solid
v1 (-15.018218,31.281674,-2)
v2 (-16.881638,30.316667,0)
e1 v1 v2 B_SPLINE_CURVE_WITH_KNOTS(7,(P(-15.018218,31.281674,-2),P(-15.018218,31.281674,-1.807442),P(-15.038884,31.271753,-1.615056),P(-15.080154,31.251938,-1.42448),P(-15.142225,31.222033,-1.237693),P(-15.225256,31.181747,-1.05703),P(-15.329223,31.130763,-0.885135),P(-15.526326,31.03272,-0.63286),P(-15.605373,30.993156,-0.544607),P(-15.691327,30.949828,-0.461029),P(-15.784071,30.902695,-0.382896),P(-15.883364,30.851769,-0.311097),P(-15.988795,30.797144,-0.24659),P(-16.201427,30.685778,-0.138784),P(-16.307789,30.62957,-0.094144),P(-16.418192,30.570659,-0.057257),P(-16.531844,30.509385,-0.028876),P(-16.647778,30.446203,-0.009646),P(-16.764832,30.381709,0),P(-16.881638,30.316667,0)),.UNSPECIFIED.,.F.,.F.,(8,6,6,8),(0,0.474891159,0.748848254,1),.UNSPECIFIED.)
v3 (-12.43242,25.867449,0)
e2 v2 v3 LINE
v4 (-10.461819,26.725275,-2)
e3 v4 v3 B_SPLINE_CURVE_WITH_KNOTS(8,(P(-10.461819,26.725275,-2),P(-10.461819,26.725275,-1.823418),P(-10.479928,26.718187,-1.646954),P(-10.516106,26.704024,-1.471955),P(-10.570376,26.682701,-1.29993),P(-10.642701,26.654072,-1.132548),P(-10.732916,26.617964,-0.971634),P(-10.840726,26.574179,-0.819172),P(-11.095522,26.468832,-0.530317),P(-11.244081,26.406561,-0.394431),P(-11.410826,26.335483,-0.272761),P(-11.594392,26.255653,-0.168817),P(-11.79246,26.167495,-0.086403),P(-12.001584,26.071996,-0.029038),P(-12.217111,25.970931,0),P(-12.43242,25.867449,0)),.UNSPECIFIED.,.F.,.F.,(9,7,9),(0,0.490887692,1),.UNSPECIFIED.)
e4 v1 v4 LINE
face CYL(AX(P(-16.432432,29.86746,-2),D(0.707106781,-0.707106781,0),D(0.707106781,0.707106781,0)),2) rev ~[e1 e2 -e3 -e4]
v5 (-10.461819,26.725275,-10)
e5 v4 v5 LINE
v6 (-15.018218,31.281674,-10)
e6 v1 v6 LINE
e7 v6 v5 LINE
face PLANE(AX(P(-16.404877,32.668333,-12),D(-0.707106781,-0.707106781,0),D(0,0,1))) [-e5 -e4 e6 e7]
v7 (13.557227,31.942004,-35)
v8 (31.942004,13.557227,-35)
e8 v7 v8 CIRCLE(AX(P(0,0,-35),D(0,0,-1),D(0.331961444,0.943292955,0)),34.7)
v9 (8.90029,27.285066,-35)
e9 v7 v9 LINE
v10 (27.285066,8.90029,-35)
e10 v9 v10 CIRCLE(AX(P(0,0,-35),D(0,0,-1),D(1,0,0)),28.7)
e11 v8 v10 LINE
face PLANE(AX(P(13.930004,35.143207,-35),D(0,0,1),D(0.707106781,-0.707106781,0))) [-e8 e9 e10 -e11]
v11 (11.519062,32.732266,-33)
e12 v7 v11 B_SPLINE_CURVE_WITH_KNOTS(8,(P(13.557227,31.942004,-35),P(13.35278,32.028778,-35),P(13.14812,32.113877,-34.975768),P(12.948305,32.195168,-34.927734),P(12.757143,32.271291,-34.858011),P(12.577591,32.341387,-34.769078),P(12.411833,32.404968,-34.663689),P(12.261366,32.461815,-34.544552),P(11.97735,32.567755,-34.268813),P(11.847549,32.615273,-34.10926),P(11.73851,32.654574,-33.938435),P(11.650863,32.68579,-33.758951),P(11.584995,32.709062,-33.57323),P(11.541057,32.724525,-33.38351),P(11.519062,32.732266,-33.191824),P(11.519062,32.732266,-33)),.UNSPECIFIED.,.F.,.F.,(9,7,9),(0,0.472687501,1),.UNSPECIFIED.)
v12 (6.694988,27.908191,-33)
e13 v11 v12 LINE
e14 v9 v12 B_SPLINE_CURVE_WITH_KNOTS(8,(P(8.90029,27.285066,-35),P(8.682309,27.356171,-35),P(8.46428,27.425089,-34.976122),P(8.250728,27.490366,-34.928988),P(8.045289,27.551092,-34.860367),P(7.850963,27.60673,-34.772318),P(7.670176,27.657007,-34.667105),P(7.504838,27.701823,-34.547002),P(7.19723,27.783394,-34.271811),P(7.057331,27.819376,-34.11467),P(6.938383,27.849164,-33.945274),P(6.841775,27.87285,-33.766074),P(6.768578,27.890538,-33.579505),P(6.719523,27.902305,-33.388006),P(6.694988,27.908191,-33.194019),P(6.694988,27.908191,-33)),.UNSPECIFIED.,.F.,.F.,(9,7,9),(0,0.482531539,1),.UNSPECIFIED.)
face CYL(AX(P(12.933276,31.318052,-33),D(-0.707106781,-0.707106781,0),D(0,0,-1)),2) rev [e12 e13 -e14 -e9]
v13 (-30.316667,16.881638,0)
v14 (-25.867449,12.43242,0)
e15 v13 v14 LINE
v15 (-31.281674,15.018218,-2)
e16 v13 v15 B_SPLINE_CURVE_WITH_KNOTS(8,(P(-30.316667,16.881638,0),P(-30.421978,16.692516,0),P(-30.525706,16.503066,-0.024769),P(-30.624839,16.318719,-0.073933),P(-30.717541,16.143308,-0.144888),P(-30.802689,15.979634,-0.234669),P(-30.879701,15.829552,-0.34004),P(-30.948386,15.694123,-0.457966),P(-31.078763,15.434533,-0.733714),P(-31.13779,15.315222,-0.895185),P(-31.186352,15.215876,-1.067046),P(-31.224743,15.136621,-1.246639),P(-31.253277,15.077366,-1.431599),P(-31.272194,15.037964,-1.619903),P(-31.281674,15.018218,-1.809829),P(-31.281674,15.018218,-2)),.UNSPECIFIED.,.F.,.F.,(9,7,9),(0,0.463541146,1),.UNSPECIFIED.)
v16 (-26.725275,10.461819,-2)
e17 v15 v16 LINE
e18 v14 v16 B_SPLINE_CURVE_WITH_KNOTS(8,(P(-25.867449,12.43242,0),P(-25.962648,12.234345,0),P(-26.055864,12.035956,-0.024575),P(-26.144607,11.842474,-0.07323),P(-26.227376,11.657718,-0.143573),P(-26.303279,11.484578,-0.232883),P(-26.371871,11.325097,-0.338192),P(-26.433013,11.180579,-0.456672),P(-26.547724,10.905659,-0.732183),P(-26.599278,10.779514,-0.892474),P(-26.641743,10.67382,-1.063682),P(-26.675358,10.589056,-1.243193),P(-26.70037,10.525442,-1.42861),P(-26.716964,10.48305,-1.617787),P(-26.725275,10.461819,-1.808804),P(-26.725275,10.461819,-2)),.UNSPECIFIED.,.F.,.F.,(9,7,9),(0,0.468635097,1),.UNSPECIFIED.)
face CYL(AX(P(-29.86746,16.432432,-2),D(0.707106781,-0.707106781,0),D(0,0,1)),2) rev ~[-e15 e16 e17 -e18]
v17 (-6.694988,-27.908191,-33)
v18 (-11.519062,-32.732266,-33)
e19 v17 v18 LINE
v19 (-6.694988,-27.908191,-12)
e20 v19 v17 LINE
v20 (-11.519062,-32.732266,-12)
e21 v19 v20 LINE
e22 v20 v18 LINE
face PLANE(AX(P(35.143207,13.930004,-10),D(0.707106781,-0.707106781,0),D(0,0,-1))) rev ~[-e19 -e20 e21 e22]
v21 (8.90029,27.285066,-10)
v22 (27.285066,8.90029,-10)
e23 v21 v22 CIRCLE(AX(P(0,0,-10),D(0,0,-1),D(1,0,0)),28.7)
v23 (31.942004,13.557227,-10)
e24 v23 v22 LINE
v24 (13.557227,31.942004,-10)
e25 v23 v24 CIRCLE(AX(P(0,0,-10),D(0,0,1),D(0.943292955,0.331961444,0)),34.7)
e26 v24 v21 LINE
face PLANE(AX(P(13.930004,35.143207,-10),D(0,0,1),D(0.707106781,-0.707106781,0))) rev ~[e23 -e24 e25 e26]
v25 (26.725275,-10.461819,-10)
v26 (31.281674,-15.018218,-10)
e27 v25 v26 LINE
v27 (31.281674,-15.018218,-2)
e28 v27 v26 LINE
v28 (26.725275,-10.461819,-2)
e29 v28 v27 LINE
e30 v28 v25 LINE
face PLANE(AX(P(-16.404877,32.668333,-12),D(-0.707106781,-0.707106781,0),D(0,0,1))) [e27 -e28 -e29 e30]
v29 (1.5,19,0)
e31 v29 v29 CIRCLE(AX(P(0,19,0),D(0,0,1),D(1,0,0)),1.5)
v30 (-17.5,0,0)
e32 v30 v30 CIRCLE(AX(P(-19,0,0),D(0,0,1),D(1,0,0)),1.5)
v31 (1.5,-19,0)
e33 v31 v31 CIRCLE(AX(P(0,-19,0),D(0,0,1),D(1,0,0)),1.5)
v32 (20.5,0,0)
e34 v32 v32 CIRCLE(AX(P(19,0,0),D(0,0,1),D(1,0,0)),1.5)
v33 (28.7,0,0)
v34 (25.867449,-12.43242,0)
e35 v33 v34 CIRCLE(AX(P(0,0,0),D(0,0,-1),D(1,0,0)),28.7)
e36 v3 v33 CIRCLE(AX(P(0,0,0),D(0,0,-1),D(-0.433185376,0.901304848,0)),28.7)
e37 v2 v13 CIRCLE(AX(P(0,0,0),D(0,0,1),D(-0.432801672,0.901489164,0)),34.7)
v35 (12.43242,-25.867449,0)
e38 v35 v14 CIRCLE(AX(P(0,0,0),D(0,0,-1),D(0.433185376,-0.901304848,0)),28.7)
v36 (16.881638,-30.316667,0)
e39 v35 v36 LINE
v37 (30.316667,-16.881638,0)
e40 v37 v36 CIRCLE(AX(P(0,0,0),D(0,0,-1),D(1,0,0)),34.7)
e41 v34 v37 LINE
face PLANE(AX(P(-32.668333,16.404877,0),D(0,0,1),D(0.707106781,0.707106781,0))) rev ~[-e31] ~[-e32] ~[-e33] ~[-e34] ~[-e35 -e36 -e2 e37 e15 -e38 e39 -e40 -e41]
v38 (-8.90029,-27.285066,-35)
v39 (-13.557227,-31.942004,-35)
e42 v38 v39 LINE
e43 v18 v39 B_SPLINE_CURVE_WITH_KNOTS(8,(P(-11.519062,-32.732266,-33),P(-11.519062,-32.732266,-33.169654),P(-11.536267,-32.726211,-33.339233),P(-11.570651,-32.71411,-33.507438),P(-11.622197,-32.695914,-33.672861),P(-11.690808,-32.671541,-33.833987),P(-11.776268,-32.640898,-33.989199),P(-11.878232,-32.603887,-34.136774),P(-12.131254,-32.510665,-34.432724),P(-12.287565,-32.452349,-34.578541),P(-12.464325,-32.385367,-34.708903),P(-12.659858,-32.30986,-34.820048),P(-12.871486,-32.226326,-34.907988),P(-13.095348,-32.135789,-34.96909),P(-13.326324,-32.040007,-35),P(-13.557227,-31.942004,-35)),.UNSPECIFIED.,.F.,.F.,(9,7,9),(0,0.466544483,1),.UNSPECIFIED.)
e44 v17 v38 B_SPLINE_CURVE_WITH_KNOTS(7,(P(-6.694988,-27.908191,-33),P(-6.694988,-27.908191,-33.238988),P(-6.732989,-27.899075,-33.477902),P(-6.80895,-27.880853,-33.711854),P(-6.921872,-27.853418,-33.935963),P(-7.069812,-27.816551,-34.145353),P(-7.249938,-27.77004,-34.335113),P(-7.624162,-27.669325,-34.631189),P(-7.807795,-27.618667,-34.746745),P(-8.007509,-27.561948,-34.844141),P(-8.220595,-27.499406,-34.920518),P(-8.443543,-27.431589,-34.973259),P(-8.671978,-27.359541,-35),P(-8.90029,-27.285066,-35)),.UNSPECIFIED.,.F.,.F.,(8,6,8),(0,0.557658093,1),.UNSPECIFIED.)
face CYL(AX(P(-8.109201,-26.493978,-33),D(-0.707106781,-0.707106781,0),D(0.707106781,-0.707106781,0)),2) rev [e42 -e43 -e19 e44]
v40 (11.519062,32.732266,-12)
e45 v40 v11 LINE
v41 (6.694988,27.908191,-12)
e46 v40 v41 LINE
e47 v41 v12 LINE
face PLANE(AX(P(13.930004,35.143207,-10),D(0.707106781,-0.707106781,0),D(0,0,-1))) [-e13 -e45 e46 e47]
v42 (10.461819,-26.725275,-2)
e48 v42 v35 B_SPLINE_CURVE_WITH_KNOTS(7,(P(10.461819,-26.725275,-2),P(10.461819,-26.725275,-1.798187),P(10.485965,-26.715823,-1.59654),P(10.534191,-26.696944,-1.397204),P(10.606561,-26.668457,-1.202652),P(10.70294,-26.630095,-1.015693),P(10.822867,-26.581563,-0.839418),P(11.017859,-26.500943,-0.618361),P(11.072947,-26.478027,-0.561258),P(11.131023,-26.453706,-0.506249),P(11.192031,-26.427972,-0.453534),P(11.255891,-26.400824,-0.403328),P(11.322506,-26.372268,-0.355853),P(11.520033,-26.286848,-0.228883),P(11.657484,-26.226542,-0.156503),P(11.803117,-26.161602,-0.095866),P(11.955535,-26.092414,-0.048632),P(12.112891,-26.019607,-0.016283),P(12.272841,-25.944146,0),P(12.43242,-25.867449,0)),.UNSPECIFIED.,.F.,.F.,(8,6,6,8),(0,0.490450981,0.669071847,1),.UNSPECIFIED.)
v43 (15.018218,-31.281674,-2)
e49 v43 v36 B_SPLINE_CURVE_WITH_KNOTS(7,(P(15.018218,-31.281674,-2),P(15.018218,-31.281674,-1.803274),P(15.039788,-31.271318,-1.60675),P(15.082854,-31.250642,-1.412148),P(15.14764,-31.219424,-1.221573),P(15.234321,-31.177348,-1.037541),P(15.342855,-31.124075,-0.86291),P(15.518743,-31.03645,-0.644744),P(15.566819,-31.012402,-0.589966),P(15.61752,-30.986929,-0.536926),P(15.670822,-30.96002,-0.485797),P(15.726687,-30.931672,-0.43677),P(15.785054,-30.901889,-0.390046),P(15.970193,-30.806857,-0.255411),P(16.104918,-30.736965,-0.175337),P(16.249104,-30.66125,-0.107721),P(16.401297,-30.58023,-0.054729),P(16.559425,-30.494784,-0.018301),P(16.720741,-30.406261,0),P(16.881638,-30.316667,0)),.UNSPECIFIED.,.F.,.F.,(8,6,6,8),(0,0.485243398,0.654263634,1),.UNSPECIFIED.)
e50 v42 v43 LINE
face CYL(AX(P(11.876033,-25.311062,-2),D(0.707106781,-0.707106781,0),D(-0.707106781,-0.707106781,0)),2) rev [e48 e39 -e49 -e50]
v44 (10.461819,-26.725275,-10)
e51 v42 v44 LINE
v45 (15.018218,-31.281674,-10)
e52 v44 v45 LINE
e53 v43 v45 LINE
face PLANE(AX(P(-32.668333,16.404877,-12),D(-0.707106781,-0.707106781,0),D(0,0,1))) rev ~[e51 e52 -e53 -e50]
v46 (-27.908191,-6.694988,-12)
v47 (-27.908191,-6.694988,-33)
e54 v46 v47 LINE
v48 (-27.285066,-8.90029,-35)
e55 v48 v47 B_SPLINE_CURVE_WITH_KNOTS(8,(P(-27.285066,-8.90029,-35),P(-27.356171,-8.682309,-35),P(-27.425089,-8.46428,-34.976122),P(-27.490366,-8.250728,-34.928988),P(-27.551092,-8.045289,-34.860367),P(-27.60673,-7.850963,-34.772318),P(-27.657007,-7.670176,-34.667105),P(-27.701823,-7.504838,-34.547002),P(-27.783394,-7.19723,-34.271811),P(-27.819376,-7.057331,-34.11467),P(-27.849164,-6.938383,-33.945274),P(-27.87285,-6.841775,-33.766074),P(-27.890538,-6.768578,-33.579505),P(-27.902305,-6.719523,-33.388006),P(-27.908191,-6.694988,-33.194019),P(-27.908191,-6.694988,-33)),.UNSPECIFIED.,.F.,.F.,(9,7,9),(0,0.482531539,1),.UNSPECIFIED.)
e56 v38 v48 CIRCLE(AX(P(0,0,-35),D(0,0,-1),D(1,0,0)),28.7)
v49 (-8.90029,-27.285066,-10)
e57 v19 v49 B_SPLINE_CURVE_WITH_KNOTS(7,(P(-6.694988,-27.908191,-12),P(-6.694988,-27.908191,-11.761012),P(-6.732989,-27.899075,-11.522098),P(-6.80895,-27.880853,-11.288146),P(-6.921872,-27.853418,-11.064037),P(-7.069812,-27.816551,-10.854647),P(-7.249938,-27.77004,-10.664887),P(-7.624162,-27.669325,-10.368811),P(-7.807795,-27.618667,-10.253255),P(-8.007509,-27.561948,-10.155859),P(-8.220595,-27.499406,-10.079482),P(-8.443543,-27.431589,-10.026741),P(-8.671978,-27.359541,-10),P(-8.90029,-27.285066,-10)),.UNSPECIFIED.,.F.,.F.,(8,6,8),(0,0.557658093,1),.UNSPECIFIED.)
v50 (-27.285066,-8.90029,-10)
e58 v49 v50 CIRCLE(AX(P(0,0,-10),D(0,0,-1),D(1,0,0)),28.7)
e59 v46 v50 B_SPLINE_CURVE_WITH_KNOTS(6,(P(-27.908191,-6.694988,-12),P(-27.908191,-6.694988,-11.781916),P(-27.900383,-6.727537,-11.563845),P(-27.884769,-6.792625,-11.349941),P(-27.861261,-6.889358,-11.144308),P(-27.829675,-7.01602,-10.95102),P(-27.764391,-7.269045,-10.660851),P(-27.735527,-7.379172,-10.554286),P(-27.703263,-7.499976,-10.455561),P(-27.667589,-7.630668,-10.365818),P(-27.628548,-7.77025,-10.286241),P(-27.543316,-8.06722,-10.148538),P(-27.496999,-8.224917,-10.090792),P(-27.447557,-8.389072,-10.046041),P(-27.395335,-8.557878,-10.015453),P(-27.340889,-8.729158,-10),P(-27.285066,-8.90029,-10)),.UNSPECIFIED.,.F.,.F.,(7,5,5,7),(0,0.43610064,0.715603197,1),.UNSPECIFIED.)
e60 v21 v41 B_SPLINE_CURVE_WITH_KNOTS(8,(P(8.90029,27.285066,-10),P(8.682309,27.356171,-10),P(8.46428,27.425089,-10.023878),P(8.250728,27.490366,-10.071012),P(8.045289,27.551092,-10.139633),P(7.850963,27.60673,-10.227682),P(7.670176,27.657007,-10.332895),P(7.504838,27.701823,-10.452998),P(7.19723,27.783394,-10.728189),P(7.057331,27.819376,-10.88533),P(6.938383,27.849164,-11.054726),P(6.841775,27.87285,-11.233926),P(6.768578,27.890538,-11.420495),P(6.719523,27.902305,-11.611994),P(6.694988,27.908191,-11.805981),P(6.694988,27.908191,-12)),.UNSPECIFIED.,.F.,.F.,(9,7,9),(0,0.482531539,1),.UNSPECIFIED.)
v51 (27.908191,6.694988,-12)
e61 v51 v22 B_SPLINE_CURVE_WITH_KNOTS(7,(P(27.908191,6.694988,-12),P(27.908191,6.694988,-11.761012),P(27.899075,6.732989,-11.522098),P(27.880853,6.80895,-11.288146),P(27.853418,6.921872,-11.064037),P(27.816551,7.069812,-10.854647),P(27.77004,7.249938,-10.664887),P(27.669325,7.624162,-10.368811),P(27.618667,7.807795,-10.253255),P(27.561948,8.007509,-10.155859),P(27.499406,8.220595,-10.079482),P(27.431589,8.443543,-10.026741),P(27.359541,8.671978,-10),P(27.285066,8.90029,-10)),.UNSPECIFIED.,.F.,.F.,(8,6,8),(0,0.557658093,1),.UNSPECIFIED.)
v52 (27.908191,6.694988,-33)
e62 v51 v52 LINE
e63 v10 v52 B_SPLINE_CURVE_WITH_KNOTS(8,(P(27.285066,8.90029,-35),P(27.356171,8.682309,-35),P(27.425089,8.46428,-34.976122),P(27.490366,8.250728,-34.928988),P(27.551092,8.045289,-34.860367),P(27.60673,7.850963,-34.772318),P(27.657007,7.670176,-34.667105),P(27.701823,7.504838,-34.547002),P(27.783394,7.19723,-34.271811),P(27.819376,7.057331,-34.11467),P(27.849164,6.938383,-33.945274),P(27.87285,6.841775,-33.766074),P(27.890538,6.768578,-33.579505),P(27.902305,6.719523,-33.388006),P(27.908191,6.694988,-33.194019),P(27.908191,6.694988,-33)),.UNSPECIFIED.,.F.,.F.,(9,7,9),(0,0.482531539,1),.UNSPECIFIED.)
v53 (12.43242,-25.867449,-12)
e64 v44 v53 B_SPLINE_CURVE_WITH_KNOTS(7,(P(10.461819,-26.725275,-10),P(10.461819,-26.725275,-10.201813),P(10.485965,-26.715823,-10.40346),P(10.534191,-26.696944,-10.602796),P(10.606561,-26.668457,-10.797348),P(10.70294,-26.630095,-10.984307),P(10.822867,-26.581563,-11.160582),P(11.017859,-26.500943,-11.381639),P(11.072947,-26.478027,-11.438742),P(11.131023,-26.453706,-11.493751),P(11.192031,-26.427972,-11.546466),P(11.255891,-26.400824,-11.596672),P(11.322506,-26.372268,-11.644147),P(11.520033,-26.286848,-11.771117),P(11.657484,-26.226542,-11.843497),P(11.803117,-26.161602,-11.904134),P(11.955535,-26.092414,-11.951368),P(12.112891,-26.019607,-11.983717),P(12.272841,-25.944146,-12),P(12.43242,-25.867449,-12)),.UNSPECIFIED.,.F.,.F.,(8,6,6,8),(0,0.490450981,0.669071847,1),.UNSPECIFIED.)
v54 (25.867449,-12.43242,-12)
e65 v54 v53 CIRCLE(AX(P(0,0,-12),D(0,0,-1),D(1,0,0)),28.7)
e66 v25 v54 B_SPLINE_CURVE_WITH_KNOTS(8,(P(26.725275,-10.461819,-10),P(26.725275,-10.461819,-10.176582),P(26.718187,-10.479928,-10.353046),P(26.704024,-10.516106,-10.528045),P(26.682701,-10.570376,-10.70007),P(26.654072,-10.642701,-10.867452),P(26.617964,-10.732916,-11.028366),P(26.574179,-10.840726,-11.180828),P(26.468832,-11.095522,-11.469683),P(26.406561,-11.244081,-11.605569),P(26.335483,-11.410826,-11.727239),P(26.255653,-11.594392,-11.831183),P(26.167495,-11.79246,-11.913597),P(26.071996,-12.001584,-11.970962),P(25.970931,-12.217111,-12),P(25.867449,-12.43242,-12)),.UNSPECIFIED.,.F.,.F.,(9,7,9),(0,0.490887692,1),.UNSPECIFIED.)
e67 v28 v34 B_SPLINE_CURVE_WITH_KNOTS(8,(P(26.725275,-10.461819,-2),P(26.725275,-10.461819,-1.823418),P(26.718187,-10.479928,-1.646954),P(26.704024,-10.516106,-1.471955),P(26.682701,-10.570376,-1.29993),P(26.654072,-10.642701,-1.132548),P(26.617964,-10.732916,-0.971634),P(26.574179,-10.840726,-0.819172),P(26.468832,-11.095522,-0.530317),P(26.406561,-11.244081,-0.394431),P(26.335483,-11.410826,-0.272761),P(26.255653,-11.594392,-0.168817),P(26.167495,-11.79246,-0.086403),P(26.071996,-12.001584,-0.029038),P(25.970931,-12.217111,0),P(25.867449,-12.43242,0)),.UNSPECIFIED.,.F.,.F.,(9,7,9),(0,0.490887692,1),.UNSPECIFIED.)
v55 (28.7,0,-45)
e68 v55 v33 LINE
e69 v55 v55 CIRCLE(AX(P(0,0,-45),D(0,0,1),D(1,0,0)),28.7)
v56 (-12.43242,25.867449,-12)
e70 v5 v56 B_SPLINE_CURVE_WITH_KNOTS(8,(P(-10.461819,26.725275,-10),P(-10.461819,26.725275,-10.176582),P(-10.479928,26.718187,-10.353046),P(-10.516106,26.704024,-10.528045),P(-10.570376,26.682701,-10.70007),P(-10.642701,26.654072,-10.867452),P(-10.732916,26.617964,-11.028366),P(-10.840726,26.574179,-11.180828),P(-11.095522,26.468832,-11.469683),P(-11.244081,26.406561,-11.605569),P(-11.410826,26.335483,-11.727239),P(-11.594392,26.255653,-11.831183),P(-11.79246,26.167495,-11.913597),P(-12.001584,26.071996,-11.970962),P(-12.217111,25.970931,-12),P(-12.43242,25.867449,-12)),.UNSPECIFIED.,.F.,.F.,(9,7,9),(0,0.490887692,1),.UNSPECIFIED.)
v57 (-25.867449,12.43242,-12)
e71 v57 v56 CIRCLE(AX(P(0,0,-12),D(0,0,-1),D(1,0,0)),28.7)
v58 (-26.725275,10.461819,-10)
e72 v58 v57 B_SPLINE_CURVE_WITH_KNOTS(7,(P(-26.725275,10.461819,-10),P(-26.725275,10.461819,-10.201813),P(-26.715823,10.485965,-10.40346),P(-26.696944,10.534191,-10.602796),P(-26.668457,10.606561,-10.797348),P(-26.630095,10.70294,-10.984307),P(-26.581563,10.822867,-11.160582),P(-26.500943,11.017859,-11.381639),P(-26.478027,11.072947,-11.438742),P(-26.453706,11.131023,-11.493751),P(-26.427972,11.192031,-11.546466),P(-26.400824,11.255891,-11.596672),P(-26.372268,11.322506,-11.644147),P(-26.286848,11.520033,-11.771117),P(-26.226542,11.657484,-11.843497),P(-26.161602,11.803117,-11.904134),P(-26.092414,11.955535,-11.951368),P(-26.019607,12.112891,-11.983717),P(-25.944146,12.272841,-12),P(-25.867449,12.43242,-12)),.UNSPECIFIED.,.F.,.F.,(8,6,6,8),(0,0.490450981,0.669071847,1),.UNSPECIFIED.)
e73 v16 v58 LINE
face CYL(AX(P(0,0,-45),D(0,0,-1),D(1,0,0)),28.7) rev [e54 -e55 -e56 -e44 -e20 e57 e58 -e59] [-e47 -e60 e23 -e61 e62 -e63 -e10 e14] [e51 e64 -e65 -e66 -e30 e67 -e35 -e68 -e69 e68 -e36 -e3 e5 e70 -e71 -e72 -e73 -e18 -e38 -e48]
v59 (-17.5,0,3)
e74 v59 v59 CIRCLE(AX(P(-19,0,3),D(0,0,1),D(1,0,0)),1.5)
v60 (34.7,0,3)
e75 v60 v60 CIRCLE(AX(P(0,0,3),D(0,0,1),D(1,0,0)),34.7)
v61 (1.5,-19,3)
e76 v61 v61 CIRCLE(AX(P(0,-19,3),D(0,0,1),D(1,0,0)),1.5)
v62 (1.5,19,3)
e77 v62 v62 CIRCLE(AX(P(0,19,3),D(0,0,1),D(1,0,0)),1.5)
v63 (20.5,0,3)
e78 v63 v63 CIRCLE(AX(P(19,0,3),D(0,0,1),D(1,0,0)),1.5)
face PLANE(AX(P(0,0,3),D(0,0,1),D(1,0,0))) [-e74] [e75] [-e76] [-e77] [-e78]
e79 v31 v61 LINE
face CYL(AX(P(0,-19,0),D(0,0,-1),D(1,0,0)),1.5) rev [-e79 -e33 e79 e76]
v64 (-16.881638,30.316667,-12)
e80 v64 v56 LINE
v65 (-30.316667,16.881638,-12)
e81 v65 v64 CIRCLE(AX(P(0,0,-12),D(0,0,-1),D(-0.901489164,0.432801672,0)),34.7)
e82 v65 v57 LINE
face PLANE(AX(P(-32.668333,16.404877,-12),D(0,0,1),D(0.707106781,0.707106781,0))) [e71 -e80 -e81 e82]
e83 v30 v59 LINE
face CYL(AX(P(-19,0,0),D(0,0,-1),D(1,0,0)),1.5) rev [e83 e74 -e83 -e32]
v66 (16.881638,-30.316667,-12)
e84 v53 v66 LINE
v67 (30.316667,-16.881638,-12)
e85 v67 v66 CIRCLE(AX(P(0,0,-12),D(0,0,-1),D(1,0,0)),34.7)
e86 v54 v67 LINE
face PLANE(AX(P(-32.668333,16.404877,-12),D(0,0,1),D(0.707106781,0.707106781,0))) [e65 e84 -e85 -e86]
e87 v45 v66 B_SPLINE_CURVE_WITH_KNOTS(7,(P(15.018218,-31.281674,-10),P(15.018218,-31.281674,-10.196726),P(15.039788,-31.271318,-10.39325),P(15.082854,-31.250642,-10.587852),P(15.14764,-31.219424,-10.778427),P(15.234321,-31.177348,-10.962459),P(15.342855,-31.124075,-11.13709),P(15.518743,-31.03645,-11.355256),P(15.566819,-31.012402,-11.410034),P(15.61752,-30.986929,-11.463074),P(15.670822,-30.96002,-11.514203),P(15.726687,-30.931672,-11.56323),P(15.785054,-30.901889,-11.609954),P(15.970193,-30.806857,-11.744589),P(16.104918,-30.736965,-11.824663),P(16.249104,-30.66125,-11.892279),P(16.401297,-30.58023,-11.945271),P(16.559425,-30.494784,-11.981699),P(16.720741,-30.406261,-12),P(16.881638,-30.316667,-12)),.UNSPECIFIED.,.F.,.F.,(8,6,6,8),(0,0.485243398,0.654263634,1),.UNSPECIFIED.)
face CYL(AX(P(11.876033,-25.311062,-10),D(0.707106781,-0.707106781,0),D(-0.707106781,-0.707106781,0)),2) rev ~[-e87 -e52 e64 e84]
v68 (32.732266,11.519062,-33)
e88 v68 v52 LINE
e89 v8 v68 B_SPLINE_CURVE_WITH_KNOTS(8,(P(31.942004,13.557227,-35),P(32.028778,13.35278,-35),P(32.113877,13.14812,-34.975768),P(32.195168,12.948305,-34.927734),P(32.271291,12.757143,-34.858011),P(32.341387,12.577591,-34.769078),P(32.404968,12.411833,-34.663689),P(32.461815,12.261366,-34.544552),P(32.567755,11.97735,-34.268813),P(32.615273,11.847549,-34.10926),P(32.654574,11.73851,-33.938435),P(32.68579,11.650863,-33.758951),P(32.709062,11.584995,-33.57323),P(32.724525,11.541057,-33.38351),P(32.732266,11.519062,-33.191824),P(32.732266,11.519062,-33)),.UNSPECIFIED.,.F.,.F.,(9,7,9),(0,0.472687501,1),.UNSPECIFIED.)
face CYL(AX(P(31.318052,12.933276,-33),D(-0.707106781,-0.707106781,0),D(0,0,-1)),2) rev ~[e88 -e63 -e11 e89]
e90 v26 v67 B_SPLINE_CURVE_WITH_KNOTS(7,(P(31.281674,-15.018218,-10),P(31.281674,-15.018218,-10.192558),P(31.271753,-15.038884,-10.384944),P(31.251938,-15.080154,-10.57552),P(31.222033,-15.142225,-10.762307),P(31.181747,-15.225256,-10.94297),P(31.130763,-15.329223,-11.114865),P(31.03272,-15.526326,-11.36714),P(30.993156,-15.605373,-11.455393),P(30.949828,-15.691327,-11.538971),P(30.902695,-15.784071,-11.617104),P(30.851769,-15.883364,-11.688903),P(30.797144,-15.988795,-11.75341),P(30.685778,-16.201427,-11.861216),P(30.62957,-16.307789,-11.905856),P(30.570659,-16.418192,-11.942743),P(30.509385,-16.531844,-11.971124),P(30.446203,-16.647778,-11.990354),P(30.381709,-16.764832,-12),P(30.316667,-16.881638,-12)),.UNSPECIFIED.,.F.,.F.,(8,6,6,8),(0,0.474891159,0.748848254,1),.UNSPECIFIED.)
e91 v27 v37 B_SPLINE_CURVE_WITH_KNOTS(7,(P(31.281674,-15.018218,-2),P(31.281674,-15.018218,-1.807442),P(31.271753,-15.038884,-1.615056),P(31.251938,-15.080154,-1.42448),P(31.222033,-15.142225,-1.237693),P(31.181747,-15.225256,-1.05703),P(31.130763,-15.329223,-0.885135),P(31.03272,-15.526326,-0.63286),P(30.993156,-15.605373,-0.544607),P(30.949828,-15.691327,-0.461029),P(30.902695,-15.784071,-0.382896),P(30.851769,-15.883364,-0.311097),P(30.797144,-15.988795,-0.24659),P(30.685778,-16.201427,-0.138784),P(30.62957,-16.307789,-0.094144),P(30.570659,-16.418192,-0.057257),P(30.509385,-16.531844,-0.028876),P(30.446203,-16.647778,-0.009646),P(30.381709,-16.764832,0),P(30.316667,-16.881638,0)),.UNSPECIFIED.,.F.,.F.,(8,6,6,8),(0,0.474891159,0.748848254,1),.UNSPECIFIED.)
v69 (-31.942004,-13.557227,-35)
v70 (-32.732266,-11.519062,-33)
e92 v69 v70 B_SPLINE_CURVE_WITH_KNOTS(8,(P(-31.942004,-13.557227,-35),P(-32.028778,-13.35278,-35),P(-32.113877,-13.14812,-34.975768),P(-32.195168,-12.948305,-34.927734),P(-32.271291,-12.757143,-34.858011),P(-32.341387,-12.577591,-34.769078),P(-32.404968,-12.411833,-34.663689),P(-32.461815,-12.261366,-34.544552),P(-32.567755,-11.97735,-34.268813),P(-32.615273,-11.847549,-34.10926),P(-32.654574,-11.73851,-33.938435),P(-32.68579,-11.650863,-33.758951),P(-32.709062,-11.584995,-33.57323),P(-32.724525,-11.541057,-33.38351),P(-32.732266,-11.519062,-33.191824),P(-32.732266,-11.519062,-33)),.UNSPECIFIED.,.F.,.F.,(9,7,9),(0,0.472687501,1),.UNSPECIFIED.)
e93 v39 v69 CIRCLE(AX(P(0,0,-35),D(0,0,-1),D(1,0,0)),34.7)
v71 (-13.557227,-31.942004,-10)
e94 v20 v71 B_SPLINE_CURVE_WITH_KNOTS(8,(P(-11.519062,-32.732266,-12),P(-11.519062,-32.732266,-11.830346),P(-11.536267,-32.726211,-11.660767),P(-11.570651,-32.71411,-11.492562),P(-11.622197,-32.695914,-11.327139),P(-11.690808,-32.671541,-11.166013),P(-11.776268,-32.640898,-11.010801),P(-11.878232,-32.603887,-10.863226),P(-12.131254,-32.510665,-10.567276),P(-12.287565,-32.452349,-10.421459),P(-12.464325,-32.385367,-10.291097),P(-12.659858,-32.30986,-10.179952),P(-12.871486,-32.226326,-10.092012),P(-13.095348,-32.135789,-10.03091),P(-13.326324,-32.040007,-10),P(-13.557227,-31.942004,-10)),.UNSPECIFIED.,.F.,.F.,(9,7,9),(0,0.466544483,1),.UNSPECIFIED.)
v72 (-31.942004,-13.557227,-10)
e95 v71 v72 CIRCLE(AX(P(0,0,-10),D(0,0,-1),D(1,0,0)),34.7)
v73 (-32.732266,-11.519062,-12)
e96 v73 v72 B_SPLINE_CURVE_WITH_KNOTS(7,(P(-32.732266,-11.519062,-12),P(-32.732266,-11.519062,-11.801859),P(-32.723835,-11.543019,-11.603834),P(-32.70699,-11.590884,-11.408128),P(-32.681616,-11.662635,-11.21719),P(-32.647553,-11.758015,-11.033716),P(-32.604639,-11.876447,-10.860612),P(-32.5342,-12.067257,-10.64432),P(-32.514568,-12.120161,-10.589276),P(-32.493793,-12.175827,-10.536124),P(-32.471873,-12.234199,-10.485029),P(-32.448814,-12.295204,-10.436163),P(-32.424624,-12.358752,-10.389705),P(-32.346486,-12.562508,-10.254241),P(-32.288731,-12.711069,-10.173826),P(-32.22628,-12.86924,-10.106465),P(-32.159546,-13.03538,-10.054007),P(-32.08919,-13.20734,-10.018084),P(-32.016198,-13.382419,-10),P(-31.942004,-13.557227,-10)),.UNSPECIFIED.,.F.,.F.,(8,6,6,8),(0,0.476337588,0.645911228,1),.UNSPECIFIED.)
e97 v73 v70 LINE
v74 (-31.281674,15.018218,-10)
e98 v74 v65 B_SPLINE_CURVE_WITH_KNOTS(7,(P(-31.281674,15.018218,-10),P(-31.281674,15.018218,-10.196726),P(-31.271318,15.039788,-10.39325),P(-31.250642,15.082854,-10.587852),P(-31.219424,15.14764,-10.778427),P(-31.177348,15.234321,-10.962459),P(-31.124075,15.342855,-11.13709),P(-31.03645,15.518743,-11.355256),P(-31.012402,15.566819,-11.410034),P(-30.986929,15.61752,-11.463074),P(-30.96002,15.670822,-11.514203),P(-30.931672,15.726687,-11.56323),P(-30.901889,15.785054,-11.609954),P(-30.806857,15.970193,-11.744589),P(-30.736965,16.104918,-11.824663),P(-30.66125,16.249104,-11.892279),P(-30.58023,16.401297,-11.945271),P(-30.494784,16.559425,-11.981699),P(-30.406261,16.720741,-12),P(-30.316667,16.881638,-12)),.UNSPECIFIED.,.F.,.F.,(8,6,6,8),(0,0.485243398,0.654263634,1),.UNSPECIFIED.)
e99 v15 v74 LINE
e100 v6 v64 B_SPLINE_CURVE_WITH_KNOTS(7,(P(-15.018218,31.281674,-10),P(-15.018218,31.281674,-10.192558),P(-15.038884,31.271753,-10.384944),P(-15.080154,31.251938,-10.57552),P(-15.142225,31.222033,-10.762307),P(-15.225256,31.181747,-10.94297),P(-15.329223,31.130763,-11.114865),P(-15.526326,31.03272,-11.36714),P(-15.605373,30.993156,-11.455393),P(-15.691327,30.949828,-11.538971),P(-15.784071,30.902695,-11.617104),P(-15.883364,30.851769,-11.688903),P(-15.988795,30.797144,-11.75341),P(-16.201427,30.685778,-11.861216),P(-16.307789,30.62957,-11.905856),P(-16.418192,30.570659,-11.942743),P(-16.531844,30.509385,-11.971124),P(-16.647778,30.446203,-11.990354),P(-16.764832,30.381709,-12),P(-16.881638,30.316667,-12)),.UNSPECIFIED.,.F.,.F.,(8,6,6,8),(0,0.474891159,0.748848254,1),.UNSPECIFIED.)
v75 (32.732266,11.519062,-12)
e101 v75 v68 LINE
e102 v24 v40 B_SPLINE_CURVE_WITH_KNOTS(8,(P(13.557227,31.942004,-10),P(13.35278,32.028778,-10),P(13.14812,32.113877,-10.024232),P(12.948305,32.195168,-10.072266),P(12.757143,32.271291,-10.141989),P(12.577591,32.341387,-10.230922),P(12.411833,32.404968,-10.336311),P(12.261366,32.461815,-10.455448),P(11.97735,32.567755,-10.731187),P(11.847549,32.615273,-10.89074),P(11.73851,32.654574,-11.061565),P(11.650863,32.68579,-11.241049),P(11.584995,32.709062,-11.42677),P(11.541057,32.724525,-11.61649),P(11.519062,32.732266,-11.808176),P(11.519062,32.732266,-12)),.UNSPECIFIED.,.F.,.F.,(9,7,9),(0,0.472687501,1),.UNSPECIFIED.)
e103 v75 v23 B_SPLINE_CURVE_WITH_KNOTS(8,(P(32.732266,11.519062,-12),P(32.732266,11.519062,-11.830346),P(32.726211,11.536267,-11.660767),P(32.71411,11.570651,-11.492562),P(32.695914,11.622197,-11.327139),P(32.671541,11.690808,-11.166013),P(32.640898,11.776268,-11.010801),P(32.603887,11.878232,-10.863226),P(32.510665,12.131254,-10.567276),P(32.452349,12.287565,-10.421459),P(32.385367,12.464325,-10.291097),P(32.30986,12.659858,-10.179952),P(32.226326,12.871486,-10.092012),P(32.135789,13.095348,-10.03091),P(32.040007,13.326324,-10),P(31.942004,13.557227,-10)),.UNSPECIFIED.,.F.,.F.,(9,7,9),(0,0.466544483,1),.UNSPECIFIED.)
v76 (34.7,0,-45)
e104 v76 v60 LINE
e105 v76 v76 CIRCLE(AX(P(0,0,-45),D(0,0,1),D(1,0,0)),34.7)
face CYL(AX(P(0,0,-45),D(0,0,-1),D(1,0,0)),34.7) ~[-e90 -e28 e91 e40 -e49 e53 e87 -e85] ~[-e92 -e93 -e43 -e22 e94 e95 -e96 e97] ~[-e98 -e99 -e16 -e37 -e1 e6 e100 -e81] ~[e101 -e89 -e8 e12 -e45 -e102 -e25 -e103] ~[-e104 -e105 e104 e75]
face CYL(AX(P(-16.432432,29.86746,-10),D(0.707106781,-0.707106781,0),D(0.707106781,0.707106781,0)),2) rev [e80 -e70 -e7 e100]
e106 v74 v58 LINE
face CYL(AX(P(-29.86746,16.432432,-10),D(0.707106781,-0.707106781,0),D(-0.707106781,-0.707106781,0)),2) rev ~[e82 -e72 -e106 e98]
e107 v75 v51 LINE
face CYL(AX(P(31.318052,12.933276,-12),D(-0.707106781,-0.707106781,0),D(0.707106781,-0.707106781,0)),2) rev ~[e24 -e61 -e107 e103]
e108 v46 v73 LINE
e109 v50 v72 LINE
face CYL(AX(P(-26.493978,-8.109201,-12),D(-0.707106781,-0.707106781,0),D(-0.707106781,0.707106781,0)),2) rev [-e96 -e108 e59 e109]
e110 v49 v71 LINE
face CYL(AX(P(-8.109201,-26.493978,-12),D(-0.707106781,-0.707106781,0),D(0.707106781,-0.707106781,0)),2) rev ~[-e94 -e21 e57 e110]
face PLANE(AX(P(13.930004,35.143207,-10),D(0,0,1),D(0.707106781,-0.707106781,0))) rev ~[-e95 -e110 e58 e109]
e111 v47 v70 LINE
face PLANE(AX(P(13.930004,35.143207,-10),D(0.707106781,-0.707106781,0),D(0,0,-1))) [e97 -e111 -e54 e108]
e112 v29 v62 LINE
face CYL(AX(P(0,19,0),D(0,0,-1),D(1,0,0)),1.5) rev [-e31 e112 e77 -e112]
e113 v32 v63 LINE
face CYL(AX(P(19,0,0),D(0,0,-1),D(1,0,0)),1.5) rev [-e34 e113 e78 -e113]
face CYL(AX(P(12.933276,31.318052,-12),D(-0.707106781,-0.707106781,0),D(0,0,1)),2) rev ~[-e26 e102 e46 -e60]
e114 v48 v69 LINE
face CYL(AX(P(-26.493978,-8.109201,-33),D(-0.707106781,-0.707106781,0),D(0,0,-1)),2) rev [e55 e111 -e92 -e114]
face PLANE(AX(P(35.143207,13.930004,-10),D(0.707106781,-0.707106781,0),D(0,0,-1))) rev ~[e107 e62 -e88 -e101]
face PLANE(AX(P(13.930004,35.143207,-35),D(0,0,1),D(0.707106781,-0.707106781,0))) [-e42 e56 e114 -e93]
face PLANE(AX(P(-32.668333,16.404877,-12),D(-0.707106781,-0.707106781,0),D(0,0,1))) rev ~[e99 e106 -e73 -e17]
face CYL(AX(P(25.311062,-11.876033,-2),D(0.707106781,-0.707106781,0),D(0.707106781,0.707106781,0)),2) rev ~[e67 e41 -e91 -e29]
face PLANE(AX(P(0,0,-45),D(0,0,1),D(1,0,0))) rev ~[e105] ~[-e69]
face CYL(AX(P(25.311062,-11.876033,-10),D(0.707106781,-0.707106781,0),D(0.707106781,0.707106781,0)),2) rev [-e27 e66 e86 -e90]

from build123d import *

# Parameters (mm, degrees)
SKETCH_1_R          = 28.7
SKETCH_1_R_2        = 1.5
EXTRUDE_1_DEPTH     = 3
EXTRUDE_START       = -48
SKETCH_2_R          = 34.7
SKETCH_2_R_2        = 28.7
EXTRUDE_2_DEPTH     = 48
SKETCH_3_W          = 12
SKETCH_3_H          = 23
CUT_EXTRUDE_1_DEPTH = 96.09443105
FILLET_1_R          = 2
SKETCH_4_W          = 30
SKETCH_4_H          = 25
CUT_EXTRUDE_2_DEPTH = 96.094431221
FILLET_2_R          = 2


with BuildPart() as part:
    # 草图1 → 凸台-拉伸1 (new body)
    with BuildSketch(Plane.XY):
        Circle(SKETCH_1_R)
        with Locations((0, 19)):
            Circle(SKETCH_1_R_2, mode=Mode.SUBTRACT)
        with Locations((19, 0)):
            Circle(SKETCH_1_R_2, mode=Mode.SUBTRACT)
        with Locations((0, -19)):
            Circle(SKETCH_1_R_2, mode=Mode.SUBTRACT)
        with Locations((-19, 0)):
            Circle(SKETCH_1_R_2, mode=Mode.SUBTRACT)
    extrude(amount=EXTRUDE_1_DEPTH)

    # 草图2 → 凸台-拉伸2 (add)
    with BuildSketch(Plane.XY.offset(3).offset(EXTRUDE_START)):
        Circle(SKETCH_2_R)
        Circle(SKETCH_2_R_2, mode=Mode.SUBTRACT)
    extrude(amount=EXTRUDE_2_DEPTH)

    # 草图3 → 切除-拉伸1 (cut, through all)
    with BuildSketch(Plane(origin=(-24.536605307, 24.536605307, 0), x_dir=(0, 0, 1), z_dir=(-0.7071067811865488, 0.7071067811865464, 0))):
        with Locations((-6, 0)):
            Rectangle(SKETCH_3_W, SKETCH_3_H)
    extrude(amount=-CUT_EXTRUDE_1_DEPTH, mode=Mode.SUBTRACT)

    # 圆角1
    fillet_1_edges = [part.edges().sort_by_distance(p)[0] for p in [
        (29.00347462, -12.740018652, -12),
        (-12.740018652, 29.00347462, -12),
        (29.00347462, -12.740018652, 0),
        (-12.740018652, 29.00347462, 0),
        (12.740018652, -29.00347462, 0),
        (-29.00347462, 12.740018652, 0),
        (-29.00347462, 12.740018652, -12),
        (12.740018652, -29.00347462, -12),
    ]]
    fillet(fillet_1_edges, radius=FILLET_1_R)

    # 草图4 → 切除-拉伸2 (cut, through all)
    with BuildSketch(Plane(origin=(24.536605307, 24.536605307, 0), x_dir=(0.7071067811865487, -0.7071067811865465, 0), z_dir=(0.7071067811865465, 0.7071067811865487, 0))):
        with Locations((0, 22.5)):
            Rectangle(SKETCH_4_W, SKETCH_4_H)
    extrude(amount=-CUT_EXTRUDE_2_DEPTH, mode=Mode.SUBTRACT)

    # 圆角2
    fillet_2_edges = [part.edges().sort_by_distance(p)[0] for p in [
        (-9.107024959, -30.320228395, -35),
        (30.320228395, 9.107024959, -35),
        (-9.107024959, -30.320228395, -10),
        (30.320228395, 9.107024959, -10),
        (-30.320228395, -9.107024959, -10),
        (9.107024959, 30.320228395, -10),
        (-30.320228395, -9.107024959, -35),
        (9.107024959, 30.320228395, -35),
    ]]
    fillet(fillet_2_edges, radius=FILLET_2_R)


solid = part.part
